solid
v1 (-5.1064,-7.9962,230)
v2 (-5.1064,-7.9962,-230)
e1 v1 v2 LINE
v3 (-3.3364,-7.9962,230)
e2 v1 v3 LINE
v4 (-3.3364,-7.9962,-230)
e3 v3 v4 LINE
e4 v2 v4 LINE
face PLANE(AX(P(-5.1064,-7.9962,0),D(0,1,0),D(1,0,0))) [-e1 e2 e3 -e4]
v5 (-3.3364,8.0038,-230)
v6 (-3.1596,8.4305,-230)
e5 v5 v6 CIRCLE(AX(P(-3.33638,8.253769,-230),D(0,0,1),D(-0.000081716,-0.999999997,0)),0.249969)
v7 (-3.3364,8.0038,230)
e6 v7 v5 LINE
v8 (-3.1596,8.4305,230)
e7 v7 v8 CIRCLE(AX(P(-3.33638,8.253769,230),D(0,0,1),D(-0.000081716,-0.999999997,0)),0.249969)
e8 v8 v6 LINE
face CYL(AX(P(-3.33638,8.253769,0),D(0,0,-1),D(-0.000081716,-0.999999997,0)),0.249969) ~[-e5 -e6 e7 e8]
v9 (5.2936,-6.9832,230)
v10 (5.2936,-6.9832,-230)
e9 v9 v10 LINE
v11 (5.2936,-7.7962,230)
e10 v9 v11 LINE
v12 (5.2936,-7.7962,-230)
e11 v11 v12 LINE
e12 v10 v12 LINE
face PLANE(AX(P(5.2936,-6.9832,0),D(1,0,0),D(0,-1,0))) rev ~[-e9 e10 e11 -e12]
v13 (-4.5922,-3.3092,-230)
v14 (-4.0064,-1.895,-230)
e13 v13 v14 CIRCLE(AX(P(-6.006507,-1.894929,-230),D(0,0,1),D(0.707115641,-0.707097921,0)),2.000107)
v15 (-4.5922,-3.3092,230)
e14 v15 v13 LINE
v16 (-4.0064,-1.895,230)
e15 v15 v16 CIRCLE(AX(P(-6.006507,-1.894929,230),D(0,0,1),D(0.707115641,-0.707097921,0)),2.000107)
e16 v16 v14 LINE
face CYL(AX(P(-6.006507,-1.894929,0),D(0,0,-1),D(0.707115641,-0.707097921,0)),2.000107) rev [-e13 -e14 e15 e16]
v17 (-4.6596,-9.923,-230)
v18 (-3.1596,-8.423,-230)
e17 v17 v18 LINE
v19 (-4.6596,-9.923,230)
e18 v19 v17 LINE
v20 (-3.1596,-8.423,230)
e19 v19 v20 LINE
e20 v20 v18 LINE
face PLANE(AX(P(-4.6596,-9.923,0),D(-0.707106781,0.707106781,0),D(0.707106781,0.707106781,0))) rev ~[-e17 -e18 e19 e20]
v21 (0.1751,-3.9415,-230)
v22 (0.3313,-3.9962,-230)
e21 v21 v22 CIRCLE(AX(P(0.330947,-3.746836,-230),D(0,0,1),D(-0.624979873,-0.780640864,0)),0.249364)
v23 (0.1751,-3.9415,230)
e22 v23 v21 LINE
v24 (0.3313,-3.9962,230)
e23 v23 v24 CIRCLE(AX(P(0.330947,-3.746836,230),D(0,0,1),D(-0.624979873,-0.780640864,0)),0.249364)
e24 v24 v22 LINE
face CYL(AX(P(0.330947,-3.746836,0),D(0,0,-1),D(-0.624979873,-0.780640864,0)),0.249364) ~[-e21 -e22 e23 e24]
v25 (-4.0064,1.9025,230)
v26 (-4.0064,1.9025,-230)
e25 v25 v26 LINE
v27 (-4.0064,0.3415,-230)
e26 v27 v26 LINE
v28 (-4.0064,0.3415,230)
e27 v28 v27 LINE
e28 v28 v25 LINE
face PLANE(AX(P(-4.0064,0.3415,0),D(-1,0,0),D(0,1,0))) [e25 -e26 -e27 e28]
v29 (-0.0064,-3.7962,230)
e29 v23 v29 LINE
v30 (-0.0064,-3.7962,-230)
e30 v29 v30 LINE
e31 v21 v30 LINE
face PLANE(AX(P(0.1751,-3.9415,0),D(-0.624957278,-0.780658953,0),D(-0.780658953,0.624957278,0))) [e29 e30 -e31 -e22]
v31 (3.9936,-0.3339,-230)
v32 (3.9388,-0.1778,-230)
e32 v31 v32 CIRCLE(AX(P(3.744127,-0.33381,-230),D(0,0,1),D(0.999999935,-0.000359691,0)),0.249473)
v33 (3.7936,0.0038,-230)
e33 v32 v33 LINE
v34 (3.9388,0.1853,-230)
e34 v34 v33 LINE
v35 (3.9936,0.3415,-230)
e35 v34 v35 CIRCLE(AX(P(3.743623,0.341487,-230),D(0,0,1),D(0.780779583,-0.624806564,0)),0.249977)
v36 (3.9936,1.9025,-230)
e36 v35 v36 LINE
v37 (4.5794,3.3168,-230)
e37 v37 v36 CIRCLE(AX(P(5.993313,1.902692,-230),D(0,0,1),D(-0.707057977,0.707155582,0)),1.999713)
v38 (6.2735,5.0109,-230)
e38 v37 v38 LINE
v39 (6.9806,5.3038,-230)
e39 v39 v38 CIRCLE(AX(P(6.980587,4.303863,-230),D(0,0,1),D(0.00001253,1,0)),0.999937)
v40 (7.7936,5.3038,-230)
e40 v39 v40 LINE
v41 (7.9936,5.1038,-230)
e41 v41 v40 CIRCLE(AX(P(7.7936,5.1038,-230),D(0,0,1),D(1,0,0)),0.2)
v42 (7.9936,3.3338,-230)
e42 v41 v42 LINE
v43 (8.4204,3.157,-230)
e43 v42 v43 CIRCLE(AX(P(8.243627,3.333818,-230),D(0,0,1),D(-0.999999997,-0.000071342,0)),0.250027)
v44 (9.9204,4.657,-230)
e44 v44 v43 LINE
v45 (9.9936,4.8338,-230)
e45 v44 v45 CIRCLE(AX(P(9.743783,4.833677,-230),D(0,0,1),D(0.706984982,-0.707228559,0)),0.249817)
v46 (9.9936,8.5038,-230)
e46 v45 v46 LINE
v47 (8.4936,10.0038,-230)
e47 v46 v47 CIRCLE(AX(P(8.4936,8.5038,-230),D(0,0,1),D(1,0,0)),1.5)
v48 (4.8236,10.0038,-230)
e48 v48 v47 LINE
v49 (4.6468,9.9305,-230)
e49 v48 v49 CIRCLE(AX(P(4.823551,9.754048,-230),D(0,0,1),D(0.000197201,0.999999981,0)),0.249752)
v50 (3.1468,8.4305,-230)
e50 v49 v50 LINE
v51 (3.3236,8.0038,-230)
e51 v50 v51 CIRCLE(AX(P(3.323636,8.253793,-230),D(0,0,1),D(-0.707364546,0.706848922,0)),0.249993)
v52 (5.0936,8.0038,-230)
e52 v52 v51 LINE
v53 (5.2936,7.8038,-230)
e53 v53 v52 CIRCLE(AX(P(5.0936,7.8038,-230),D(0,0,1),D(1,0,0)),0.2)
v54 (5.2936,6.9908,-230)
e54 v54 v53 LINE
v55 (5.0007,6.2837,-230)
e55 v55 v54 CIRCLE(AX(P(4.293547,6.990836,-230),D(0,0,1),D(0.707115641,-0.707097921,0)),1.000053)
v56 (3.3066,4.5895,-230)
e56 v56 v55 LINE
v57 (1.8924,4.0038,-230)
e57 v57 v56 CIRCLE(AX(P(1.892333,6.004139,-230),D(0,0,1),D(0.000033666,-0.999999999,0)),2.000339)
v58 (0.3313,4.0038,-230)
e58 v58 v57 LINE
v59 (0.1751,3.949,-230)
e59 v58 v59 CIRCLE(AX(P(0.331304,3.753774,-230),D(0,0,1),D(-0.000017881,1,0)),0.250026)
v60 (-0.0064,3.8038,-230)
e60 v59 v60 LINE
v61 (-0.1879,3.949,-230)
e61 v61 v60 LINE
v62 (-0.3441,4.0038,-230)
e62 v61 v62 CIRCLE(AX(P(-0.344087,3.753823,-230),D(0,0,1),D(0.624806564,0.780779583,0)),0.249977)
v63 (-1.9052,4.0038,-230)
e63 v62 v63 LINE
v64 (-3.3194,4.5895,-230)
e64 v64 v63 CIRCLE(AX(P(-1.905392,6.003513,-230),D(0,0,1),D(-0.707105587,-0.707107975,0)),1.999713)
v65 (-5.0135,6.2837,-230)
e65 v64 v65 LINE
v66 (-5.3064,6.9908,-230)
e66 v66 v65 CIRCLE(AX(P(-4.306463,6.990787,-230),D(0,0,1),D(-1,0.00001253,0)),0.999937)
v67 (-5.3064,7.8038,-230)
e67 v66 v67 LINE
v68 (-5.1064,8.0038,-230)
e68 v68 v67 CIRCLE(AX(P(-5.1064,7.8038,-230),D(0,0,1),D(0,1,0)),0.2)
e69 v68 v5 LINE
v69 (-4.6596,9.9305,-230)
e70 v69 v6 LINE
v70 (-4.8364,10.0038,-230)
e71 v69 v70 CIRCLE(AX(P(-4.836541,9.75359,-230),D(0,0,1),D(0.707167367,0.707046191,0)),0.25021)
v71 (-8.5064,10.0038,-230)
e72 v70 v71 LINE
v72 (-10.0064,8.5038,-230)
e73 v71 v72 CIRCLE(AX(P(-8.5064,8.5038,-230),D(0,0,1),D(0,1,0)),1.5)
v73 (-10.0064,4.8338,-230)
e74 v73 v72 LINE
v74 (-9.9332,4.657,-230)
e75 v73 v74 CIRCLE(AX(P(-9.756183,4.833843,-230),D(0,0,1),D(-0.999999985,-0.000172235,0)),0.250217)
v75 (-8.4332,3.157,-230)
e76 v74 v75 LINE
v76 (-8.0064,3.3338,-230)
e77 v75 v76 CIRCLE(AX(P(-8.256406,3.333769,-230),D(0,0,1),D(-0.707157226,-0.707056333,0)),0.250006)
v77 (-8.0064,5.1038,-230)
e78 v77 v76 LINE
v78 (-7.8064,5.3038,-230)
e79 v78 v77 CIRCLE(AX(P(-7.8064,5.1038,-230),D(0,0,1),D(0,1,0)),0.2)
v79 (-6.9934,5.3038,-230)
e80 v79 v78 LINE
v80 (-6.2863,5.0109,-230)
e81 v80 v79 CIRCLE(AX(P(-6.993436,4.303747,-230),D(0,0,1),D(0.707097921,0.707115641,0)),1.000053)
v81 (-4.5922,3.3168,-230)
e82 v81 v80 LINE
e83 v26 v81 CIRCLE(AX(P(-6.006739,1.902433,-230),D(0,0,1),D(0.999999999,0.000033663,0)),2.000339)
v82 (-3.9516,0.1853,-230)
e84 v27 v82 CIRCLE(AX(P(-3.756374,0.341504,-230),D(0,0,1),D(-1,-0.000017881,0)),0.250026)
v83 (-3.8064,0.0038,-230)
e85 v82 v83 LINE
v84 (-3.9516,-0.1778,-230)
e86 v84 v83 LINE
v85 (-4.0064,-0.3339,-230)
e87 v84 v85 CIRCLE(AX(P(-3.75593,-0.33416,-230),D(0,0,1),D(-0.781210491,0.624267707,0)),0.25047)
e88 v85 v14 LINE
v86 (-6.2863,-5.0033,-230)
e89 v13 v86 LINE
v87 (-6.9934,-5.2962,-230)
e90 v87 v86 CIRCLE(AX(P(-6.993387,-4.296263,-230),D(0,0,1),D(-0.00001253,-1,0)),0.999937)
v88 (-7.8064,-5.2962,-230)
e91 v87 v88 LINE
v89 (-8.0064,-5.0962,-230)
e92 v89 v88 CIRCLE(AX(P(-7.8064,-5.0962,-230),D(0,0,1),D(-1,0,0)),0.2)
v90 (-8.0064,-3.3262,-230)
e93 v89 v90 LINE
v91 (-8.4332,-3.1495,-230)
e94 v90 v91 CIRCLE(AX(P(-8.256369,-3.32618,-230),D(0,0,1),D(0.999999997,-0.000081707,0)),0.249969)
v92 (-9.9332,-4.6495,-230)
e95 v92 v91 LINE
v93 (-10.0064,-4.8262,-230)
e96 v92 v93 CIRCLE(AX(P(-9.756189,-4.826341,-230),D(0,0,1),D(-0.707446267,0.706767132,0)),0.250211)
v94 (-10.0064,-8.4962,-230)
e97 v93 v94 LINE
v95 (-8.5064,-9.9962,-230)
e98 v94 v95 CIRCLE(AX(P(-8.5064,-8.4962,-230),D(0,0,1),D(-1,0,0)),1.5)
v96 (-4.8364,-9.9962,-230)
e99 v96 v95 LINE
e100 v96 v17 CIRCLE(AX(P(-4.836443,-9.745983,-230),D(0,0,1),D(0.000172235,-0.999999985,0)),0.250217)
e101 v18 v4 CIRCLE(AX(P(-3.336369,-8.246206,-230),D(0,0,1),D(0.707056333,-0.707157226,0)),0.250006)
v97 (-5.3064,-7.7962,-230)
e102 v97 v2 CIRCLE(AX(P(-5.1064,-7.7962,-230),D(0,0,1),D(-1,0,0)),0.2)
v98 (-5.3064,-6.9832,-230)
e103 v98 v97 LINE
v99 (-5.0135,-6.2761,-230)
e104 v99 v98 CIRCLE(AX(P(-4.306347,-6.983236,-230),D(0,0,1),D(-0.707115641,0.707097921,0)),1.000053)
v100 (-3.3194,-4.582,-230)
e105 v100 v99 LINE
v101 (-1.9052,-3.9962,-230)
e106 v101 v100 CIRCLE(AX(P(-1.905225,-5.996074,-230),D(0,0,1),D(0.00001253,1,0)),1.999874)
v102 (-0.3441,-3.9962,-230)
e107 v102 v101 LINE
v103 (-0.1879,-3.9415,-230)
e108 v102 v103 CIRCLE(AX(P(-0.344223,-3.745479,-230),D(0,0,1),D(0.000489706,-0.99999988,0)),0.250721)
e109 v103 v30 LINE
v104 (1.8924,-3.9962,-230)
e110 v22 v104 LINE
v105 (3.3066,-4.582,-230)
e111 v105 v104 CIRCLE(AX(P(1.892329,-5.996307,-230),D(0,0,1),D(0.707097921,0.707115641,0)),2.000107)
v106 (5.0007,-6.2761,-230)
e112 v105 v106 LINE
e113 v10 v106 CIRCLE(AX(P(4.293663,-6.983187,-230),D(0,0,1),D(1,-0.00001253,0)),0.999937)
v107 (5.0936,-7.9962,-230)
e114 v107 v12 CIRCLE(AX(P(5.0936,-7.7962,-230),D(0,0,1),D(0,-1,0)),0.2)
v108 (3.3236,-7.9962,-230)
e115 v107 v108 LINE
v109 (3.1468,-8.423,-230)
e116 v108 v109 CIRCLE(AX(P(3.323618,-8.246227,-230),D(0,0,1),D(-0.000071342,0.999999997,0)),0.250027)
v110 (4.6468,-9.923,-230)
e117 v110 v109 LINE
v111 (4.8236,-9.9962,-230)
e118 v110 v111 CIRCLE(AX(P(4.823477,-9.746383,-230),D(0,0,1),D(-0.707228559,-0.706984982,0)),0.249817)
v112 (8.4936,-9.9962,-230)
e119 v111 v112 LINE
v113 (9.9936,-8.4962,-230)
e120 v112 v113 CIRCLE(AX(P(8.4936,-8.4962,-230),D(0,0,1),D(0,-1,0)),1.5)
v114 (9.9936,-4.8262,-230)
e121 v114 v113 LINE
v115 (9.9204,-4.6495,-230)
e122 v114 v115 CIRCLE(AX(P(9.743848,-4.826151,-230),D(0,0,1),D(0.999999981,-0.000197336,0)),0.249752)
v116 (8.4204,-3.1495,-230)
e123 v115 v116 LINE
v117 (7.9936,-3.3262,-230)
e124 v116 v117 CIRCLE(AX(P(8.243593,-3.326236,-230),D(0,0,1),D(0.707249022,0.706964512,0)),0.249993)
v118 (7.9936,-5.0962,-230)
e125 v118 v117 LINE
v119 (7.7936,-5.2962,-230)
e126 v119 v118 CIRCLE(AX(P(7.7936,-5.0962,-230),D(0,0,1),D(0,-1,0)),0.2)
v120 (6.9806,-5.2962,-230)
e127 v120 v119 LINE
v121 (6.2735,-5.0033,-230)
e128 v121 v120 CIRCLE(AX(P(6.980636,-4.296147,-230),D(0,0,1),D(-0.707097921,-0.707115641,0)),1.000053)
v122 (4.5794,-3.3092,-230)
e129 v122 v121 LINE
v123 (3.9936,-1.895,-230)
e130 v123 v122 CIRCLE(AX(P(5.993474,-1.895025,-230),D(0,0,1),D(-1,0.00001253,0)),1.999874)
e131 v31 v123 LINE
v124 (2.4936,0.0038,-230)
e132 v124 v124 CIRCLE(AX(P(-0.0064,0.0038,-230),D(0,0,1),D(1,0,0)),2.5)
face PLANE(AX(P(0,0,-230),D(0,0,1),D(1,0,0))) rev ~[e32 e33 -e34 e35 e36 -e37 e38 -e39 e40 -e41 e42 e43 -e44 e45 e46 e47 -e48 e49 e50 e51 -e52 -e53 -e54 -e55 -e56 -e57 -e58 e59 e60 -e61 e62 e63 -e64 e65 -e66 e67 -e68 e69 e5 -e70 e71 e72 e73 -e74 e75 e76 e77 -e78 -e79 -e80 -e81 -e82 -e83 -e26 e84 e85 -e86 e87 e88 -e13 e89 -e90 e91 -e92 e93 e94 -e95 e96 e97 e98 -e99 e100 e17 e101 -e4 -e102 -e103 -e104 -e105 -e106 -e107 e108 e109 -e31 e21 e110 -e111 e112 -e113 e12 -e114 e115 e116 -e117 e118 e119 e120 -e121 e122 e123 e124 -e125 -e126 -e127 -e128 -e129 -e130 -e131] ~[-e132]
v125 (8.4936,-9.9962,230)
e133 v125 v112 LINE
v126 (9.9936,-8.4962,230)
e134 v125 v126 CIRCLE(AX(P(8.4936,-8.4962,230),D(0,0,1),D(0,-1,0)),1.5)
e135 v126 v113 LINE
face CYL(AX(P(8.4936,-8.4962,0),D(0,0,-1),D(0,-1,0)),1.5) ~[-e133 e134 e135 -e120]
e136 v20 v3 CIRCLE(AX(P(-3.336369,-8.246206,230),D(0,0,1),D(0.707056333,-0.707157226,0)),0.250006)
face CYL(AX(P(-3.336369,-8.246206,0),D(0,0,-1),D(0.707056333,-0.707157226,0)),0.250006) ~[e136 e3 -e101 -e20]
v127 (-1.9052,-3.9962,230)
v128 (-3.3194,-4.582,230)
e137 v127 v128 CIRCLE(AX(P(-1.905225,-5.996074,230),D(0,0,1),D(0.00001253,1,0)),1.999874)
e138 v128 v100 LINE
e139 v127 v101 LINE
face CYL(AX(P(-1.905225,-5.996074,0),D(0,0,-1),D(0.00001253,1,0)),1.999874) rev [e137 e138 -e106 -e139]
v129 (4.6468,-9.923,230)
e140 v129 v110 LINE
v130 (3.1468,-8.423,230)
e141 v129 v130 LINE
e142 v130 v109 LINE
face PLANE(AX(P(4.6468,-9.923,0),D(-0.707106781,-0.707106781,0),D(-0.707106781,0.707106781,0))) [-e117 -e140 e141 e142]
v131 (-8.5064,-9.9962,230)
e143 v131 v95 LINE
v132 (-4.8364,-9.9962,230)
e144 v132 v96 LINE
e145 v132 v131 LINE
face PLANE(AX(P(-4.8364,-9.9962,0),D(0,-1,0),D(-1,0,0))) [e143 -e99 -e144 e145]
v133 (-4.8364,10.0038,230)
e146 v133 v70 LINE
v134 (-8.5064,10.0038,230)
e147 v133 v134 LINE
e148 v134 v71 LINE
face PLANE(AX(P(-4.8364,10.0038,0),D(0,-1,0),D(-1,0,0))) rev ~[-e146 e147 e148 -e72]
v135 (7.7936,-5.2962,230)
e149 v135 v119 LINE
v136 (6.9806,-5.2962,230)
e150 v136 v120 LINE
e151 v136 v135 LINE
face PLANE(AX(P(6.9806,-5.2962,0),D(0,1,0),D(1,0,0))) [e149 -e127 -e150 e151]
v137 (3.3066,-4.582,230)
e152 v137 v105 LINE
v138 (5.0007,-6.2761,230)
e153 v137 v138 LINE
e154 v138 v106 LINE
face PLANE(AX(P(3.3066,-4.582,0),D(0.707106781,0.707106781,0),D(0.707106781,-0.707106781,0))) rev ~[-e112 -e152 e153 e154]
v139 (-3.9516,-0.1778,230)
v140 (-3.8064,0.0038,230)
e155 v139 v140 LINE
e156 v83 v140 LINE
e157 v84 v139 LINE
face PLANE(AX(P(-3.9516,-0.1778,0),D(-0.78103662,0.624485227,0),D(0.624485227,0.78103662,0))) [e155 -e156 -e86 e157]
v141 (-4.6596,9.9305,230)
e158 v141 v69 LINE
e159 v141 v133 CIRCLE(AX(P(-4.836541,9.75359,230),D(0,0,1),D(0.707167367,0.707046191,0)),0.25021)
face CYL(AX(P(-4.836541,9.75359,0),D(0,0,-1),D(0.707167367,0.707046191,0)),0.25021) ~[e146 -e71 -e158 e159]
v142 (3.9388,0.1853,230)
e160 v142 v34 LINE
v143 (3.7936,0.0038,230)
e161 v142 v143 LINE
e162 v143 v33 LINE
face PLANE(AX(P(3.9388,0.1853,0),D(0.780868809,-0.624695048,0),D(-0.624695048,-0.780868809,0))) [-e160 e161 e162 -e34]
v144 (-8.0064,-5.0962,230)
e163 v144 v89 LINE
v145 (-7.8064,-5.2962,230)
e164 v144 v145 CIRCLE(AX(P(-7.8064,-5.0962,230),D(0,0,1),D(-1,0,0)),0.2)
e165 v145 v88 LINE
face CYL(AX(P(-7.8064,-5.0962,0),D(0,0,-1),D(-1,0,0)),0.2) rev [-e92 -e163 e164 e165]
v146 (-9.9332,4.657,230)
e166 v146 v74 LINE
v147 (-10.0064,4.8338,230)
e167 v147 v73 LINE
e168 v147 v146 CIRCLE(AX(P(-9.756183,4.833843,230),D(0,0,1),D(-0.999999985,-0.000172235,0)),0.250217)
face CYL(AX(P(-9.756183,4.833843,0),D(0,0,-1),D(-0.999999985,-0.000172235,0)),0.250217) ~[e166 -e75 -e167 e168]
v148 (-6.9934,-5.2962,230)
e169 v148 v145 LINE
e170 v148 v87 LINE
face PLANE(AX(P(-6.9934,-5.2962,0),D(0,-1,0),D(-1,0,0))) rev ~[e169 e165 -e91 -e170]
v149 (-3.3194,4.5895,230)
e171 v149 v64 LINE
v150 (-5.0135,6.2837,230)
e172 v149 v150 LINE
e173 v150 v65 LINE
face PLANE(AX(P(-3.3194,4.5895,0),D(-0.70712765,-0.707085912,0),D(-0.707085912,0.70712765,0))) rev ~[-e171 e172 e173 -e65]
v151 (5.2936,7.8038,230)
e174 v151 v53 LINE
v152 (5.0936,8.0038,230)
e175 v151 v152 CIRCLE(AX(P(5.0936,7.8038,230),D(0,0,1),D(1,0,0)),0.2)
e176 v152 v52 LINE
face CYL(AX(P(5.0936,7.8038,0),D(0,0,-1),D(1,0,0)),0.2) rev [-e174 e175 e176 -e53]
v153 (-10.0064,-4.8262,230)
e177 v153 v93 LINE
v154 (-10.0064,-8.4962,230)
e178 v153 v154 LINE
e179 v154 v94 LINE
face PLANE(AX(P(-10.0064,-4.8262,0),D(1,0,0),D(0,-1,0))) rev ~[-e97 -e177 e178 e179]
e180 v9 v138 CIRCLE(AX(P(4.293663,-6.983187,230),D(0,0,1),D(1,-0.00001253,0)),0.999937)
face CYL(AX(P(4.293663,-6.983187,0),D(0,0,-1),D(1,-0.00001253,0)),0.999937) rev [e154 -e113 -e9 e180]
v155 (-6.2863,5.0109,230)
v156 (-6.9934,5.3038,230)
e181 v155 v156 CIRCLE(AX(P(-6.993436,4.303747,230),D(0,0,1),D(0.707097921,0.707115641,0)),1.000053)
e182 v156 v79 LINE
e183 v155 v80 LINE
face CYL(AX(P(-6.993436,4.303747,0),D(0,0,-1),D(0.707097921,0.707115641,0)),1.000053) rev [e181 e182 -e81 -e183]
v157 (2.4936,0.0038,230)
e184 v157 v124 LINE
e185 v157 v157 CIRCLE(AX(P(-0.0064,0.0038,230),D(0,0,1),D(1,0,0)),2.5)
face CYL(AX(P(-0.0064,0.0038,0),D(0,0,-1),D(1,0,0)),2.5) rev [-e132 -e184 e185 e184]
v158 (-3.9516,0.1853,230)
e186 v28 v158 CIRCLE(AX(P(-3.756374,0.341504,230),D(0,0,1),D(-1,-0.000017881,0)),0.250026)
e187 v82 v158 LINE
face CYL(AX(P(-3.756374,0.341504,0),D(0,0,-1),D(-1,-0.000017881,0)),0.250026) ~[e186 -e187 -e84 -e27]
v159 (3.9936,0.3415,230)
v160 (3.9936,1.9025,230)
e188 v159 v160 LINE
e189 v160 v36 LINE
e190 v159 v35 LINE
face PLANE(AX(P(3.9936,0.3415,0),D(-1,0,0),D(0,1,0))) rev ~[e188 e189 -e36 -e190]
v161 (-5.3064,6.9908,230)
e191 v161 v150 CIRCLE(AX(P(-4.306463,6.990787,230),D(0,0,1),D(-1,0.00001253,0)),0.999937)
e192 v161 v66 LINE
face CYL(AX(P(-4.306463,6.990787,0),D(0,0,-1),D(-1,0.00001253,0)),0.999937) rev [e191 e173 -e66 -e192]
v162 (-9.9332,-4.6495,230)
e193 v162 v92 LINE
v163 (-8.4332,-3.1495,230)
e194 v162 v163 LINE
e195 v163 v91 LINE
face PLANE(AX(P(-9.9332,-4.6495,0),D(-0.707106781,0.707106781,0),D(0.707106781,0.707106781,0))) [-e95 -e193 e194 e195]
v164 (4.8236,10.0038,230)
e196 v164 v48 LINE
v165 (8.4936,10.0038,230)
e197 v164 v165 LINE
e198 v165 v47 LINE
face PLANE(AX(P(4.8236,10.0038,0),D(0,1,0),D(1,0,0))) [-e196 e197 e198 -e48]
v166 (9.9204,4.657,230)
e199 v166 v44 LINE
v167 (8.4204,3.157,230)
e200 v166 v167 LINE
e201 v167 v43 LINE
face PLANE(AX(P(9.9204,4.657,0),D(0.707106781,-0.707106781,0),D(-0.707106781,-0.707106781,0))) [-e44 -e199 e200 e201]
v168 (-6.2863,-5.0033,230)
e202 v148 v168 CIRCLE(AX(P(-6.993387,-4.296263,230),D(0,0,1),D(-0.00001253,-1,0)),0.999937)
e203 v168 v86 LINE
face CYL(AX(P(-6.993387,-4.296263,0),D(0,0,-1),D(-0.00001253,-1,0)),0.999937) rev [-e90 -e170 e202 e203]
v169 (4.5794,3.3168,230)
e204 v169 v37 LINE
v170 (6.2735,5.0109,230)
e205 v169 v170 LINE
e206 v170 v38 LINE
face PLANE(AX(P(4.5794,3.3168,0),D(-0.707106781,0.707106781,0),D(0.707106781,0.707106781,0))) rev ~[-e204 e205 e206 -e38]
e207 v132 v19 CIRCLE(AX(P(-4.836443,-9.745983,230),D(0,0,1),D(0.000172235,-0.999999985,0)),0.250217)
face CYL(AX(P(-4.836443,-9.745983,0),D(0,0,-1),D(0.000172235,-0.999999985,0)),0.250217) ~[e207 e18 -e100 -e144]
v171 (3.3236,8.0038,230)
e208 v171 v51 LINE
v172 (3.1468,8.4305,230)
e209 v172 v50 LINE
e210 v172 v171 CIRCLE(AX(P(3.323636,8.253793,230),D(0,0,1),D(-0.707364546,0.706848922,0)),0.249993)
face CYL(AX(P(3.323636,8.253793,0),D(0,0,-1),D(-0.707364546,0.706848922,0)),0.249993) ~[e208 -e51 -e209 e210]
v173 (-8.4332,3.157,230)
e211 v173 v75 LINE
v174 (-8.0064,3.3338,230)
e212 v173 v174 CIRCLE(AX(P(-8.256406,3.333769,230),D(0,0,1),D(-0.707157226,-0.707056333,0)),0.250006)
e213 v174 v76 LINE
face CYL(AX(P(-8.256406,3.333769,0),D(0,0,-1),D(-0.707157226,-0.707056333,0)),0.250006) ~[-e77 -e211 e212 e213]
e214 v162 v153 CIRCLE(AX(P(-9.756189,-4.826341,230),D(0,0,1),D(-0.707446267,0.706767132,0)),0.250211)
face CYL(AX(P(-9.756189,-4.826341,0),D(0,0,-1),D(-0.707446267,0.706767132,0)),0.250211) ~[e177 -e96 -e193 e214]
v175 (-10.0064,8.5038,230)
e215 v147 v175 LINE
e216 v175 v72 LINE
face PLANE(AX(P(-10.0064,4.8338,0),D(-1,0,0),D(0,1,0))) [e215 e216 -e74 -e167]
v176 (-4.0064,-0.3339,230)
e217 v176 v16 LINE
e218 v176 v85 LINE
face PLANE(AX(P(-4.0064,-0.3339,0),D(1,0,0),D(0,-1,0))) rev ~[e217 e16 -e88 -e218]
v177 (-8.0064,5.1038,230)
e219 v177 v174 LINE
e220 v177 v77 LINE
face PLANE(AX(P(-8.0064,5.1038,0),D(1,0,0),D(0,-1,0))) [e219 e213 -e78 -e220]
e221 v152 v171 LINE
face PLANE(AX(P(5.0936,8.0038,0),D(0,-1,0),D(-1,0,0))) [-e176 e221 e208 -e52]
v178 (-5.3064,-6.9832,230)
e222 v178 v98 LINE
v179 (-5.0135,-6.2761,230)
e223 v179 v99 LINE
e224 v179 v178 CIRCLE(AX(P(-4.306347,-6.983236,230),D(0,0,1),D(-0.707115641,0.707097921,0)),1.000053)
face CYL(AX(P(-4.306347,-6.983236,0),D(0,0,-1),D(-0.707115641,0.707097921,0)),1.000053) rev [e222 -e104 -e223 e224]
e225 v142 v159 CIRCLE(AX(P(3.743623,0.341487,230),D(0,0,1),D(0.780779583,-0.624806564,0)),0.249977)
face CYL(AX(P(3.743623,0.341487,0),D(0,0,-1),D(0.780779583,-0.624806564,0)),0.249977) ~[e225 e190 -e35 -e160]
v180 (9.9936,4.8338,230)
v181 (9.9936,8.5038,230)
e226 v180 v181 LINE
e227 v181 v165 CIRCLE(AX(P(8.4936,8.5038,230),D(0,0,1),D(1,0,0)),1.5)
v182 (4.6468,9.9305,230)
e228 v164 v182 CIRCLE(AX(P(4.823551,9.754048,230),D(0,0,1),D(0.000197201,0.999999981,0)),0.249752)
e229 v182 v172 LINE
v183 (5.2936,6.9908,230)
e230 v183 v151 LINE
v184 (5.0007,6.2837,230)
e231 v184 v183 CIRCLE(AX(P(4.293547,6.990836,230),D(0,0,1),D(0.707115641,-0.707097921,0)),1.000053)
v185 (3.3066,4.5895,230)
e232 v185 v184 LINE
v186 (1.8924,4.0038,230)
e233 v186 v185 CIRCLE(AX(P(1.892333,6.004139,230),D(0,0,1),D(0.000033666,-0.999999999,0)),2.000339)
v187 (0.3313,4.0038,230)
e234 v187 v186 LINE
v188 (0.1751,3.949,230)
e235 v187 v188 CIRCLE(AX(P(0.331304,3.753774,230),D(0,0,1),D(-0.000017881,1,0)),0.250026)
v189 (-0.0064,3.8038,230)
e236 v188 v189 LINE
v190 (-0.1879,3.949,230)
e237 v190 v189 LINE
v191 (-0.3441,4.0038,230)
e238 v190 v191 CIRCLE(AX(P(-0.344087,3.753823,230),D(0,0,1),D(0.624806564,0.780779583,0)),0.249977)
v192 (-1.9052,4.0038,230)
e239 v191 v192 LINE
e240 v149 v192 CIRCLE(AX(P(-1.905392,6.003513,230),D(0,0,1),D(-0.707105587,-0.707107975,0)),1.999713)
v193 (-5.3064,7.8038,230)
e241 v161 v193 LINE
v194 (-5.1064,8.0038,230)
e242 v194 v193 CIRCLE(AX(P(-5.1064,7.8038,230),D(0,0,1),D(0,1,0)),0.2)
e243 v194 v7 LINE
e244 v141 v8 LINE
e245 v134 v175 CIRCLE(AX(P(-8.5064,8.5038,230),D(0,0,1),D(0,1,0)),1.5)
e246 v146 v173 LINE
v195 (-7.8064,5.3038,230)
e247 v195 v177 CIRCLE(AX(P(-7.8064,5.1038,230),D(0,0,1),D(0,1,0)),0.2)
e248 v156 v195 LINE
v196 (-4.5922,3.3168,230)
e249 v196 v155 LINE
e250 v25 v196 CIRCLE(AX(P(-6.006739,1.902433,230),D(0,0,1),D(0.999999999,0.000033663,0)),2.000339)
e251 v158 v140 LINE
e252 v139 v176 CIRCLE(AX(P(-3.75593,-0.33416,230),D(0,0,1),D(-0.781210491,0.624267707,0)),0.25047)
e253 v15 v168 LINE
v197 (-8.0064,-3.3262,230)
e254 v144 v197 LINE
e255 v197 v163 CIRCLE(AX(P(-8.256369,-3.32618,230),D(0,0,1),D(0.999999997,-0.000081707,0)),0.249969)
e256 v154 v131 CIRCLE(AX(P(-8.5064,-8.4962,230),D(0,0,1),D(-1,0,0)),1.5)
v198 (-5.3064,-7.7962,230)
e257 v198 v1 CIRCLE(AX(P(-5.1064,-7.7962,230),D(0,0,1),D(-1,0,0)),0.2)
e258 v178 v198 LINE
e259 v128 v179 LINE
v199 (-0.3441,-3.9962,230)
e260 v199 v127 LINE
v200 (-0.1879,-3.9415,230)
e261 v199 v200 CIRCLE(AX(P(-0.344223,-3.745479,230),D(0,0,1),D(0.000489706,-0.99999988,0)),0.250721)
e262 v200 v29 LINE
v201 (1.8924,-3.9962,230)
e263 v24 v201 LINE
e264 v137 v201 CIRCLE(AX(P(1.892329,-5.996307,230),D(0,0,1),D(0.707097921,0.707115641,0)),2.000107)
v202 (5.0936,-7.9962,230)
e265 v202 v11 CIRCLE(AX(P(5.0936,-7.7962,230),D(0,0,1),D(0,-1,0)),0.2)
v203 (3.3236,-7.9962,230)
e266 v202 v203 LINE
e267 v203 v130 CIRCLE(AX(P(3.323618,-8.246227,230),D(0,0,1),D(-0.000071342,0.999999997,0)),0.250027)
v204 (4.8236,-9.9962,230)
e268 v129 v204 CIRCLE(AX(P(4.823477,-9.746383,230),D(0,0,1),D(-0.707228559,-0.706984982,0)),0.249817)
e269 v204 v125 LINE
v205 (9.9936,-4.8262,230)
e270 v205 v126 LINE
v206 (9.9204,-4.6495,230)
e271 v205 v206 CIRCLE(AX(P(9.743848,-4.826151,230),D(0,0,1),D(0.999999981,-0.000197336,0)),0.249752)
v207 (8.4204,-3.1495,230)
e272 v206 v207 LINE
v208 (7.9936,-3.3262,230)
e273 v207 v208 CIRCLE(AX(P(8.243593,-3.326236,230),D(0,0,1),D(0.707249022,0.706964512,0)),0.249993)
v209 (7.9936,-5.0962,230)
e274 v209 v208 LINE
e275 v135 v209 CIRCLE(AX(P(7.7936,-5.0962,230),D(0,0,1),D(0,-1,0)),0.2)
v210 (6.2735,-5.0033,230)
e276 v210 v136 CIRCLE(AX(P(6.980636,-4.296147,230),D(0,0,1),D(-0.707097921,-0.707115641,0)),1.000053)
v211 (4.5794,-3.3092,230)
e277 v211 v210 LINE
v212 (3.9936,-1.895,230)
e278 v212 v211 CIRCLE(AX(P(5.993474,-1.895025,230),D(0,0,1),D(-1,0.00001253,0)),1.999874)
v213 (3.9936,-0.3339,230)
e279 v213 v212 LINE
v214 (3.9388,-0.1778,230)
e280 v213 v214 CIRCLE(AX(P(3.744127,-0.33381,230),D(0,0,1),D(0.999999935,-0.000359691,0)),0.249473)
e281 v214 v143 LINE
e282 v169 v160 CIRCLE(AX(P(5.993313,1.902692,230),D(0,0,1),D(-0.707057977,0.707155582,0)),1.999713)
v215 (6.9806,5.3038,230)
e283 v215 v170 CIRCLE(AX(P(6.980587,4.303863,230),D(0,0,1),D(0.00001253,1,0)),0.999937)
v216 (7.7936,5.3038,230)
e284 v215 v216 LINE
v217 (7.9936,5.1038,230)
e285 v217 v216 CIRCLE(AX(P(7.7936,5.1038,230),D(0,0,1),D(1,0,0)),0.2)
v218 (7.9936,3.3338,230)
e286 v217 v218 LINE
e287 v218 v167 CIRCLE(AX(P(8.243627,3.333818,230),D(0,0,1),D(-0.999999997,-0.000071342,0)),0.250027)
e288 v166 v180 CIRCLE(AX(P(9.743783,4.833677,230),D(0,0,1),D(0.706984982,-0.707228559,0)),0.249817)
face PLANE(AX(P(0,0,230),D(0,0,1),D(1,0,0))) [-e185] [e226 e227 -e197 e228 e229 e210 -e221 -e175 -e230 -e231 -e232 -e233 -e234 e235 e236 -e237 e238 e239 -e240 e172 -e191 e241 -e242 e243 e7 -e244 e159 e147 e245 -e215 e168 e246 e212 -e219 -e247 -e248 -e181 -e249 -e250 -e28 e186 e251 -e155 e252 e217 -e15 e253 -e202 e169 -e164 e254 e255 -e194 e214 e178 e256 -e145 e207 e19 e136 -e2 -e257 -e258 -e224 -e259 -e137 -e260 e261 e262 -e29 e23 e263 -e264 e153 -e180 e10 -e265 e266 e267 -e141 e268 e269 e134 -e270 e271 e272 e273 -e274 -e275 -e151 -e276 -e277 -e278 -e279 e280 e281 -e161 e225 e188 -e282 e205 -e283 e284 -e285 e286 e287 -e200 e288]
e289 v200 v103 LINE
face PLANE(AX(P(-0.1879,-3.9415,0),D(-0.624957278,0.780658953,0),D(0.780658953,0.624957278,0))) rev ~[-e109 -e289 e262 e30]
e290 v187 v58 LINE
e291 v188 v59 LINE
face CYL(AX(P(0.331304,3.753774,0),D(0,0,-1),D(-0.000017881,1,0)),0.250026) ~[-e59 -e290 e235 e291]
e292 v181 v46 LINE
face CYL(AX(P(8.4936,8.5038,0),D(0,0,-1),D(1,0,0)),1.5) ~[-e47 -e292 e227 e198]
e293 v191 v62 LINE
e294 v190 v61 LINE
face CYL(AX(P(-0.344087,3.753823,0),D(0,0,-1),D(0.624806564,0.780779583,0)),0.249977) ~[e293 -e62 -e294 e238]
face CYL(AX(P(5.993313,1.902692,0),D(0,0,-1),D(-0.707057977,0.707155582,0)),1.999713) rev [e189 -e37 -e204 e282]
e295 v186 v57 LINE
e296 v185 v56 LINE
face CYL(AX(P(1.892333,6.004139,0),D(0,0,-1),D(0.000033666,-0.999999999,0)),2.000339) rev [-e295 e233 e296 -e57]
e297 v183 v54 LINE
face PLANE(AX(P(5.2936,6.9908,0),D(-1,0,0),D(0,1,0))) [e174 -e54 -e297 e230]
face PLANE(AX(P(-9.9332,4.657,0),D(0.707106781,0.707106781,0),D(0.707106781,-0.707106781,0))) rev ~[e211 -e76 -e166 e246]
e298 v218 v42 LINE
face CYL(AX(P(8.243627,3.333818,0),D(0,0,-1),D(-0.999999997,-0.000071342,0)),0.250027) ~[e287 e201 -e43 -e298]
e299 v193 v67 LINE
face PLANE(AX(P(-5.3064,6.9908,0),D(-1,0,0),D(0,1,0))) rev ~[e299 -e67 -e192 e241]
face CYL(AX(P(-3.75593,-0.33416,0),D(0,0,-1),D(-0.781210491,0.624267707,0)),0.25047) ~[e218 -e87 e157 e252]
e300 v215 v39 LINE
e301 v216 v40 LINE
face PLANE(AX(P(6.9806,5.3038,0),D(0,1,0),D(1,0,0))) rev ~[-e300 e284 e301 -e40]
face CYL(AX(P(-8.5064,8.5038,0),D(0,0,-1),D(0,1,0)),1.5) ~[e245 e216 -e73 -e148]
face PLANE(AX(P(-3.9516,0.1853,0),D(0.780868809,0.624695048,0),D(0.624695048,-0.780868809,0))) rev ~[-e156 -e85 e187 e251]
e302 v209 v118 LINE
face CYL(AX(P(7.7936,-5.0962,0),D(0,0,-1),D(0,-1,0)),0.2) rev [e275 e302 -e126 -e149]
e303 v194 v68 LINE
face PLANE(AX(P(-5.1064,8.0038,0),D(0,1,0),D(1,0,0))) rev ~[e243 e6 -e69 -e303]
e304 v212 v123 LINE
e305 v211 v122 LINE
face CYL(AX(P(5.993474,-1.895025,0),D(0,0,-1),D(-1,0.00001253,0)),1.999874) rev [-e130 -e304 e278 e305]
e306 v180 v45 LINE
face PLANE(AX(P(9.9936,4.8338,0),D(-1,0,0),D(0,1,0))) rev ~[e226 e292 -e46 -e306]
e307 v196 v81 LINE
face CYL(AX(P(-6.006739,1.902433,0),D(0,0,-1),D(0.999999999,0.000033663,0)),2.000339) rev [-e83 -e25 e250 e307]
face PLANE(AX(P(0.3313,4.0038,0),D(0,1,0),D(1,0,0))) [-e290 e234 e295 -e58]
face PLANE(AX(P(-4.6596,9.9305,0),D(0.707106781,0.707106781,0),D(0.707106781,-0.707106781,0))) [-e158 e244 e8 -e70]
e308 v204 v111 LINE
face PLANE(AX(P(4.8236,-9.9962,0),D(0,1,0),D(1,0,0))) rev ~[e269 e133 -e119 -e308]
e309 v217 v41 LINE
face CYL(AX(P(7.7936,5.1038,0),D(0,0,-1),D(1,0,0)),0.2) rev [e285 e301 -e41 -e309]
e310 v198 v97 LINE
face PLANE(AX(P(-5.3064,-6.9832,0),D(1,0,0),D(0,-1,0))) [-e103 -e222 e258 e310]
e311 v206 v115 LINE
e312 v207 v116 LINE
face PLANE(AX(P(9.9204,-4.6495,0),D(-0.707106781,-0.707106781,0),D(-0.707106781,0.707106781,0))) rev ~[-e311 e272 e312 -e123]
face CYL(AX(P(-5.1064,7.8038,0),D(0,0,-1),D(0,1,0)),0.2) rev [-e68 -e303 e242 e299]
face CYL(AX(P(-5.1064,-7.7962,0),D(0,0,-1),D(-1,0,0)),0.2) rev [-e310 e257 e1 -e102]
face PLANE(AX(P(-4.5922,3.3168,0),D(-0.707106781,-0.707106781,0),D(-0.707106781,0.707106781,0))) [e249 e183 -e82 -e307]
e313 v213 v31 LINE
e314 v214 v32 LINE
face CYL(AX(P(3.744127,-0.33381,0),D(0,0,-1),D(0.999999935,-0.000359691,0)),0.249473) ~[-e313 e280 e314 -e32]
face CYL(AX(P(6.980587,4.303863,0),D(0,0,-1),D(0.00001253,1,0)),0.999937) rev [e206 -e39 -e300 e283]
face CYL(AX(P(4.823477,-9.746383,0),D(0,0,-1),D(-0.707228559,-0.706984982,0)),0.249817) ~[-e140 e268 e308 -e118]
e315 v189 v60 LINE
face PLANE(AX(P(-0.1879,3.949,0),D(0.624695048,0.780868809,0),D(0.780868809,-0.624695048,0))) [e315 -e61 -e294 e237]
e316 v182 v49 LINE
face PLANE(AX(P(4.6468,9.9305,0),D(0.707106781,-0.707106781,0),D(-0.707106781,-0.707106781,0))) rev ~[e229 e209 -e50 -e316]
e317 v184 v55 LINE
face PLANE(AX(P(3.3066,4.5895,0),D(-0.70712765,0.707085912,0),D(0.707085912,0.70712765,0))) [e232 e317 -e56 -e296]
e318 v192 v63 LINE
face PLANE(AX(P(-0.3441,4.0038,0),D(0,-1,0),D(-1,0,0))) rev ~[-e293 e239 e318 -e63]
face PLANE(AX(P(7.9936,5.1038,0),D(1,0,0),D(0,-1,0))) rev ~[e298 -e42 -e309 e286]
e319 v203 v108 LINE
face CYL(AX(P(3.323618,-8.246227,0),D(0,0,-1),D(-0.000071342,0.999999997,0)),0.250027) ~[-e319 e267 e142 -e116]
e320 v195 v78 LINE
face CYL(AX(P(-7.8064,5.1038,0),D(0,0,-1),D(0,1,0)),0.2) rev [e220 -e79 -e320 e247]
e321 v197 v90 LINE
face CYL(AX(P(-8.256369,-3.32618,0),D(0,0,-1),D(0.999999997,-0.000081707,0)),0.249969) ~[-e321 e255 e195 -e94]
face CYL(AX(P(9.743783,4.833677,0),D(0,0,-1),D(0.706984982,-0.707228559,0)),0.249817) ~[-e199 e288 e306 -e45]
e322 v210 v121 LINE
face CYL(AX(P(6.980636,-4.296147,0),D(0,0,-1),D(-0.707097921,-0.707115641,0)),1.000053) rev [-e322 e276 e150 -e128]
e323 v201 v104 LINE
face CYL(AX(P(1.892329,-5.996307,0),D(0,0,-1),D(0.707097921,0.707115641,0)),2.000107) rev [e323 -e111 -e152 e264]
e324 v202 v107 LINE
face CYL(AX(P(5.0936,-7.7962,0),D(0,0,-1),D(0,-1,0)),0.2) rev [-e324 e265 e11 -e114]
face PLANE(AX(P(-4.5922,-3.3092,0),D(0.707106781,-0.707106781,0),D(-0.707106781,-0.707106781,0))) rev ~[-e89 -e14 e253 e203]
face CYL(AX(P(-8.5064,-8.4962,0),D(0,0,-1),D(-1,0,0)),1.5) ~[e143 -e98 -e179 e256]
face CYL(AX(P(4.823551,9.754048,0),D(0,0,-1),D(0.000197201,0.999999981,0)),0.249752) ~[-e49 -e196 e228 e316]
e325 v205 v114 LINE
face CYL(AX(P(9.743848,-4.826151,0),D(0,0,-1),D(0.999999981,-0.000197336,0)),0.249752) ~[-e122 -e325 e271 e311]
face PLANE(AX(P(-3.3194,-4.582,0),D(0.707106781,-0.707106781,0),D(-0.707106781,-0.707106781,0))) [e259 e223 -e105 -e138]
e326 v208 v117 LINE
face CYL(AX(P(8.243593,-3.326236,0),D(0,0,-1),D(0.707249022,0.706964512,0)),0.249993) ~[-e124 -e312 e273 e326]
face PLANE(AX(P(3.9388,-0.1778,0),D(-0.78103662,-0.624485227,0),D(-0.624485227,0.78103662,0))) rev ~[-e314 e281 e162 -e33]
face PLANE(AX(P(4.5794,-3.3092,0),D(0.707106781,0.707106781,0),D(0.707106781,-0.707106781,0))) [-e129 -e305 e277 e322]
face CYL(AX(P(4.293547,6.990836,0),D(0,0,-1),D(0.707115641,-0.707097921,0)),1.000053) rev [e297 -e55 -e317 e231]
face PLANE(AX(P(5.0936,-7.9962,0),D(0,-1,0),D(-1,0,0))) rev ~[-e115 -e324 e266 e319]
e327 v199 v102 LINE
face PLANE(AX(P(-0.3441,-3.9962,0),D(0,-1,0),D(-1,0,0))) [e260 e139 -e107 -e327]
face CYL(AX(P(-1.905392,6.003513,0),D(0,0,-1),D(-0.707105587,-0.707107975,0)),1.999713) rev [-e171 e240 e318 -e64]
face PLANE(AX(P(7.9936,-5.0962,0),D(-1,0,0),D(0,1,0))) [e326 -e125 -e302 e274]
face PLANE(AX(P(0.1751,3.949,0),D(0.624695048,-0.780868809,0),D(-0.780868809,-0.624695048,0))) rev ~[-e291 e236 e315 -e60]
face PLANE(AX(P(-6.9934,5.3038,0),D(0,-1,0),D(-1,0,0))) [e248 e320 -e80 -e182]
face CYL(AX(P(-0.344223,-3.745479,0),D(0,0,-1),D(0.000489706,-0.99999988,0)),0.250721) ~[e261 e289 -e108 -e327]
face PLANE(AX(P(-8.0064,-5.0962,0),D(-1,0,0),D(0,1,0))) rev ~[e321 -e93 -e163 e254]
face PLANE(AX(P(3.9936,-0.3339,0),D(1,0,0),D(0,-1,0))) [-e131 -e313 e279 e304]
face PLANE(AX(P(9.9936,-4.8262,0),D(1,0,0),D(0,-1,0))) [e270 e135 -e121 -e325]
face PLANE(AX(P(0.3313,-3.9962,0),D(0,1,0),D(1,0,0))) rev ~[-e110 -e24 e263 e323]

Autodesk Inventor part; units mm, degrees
ref_plane "YZ Plane" through (0, 0, 0) normal (1, 0, 0) x (0, 1, 0)
ref_plane "XZ Plane" through (0, 0, 0) normal (0, 1, 0) x (-1, 0, 0)
ref_plane "XY Plane" through (0, 0, 0) normal (0, 0, 1) x (1, 0, 0)
sketch "Эскиз1" plane through (0, 0, 0) normal (0, 0, 1) x (1, 0, 0)
  line L0 (-3.9516, 0.1853) -> (-3.8064, 0.0038)
  line L1 (-3.9516, -0.1778) -> (-3.8064, 0.0038)
  arc A0 (-3.9516, -0.1778) -> (-4.0064, -0.3339) centre (-3.7564, -0.3339) ccw
  line L2 (-4.0064, -0.3339) -> (-4.0064, -1.895)
  arc A1 (-4.5922, -3.3092) -> (-4.0064, -1.895) centre (-6.0064, -1.895) ccw
  line L3 (-4.5922, -3.3092) -> (-6.2863, -5.0033)
  arc A2 (-6.9934, -5.2962) -> (-6.2863, -5.0033) centre (-6.9934, -4.2962) ccw
  line L4 (-6.9934, -5.2962) -> (-7.8064, -5.2962)
  arc A3 (-8.0064, -5.0962) -> (-7.8064, -5.2962) centre (-7.8064, -5.0962) ccw
  line L5 (-8.0064, -5.0962) -> (-8.0064, -3.3262)
  arc A4 (-8.0064, -3.3262) -> (-8.4332, -3.1495) centre (-8.2564, -3.3262) ccw
  line L6 (-9.9332, -4.6495) -> (-8.4332, -3.1495)
  arc A5 (-9.9332, -4.6495) -> (-10.0064, -4.8262) centre (-9.7564, -4.8262) ccw
  line L7 (-10.0064, -4.8262) -> (-10.0064, -8.4962)
  arc A6 (-10.0064, -8.4962) -> (-8.5064, -9.9962) centre (-8.5064, -8.4962) ccw
  line L8 (-4.8364, -9.9962) -> (-8.5064, -9.9962)
  arc A7 (-4.8364, -9.9962) -> (-4.6596, -9.923) centre (-4.8364, -9.7462) ccw
  line L9 (-4.6596, -9.923) -> (-3.1596, -8.423)
  arc A8 (-3.1596, -8.423) -> (-3.3364, -7.9962) centre (-3.3364, -8.2462) ccw
  line L10 (-5.1064, -7.9962) -> (-3.3364, -7.9962)
  arc A9 (-5.3064, -7.7962) -> (-5.1064, -7.9962) centre (-5.1064, -7.7962) ccw
  line L11 (-5.3064, -6.9832) -> (-5.3064, -7.7962)
  arc A10 (-5.0135, -6.2761) -> (-5.3064, -6.9832) centre (-4.3064, -6.9832) ccw
  line L12 (-3.3194, -4.582) -> (-5.0135, -6.2761)
  arc A11 (-1.9052, -3.9962) -> (-3.3194, -4.582) centre (-1.9052, -5.9962) ccw
  line L13 (-0.3441, -3.9962) -> (-1.9052, -3.9962)
  arc A12 (-0.3441, -3.9962) -> (-0.1879, -3.9415) centre (-0.3441, -3.7462) ccw
  line L14 (-0.1879, -3.9415) -> (-0.0064, -3.7962)
  line L15 (0.1751, -3.9415) -> (-0.0064, -3.7962)
  arc A13 (0.1751, -3.9415) -> (0.3313, -3.9962) centre (0.3313, -3.7462) ccw
  line L16 (0.3313, -3.9962) -> (1.8924, -3.9962)
  arc A14 (3.3066, -4.582) -> (1.8924, -3.9962) centre (1.8924, -5.9962) ccw
  line L17 (3.3066, -4.582) -> (5.0007, -6.2761)
  arc A15 (5.2936, -6.9832) -> (5.0007, -6.2761) centre (4.2936, -6.9832) ccw
  line L18 (5.2936, -6.9832) -> (5.2936, -7.7962)
  arc A16 (5.0936, -7.9962) -> (5.2936, -7.7962) centre (5.0936, -7.7962) ccw
  line L19 (5.0936, -7.9962) -> (3.3236, -7.9962)
  arc A17 (3.3236, -7.9962) -> (3.1468, -8.423) centre (3.3236, -8.2462) ccw
  line L20 (4.6468, -9.923) -> (3.1468, -8.423)
  arc A18 (4.6468, -9.923) -> (4.8236, -9.9962) centre (4.8236, -9.7462) ccw
  line L21 (4.8236, -9.9962) -> (8.4936, -9.9962)
  arc A19 (8.4936, -9.9962) -> (9.9936, -8.4962) centre (8.4936, -8.4962) ccw
  line L22 (9.9936, -4.8262) -> (9.9936, -8.4962)
  arc A20 (9.9936, -4.8262) -> (9.9204, -4.6495) centre (9.7436, -4.8262) ccw
  line L23 (9.9204, -4.6495) -> (8.4204, -3.1495)
  arc A21 (8.4204, -3.1495) -> (7.9936, -3.3262) centre (8.2436, -3.3262) ccw
  line L24 (7.9936, -5.0962) -> (7.9936, -3.3262)
  arc A22 (7.7936, -5.2962) -> (7.9936, -5.0962) centre (7.7936, -5.0962) ccw
  line L25 (6.9806, -5.2962) -> (7.7936, -5.2962)
  arc A23 (6.2735, -5.0033) -> (6.9806, -5.2962) centre (6.9806, -4.2962) ccw
  line L26 (4.5794, -3.3092) -> (6.2735, -5.0033)
  arc A24 (3.9936, -1.895) -> (4.5794, -3.3092) centre (5.9936, -1.895) ccw
  line L27 (3.9936, -0.3339) -> (3.9936, -1.895)
  arc A25 (3.9936, -0.3339) -> (3.9388, -0.1778) centre (3.7436, -0.3339) ccw
  line L28 (3.9388, -0.1778) -> (3.7936, 0.0038)
  line L29 (3.9388, 0.1853) -> (3.7936, 0.0038)
  arc A26 (3.9388, 0.1853) -> (3.9936, 0.3415) centre (3.7436, 0.3415) ccw
  line L30 (3.9936, 0.3415) -> (3.9936, 1.9025)
  arc A27 (4.5794, 3.3168) -> (3.9936, 1.9025) centre (5.9936, 1.9025) ccw
  line L31 (4.5794, 3.3168) -> (6.2735, 5.0109)
  arc A28 (6.9806, 5.3038) -> (6.2735, 5.0109) centre (6.9806, 4.3038) ccw
  line L32 (6.9806, 5.3038) -> (7.7936, 5.3038)
  arc A29 (7.9936, 5.1038) -> (7.7936, 5.3038) centre (7.7936, 5.1038) ccw
  line L33 (7.9936, 5.1038) -> (7.9936, 3.3338)
  arc A30 (7.9936, 3.3338) -> (8.4204, 3.157) centre (8.2436, 3.3338) ccw
  line L34 (9.9204, 4.657) -> (8.4204, 3.157)
  arc A31 (9.9204, 4.657) -> (9.9936, 4.8338) centre (9.7436, 4.8338) ccw
  line L35 (9.9936, 4.8338) -> (9.9936, 8.5038)
  arc A32 (9.9936, 8.5038) -> (8.4936, 10.0038) centre (8.4936, 8.5038) ccw
  line L36 (4.8236, 10.0038) -> (8.4936, 10.0038)
  arc A33 (4.8236, 10.0038) -> (4.6468, 9.9305) centre (4.8236, 9.7538) ccw
  line L37 (4.6468, 9.9305) -> (3.1468, 8.4305)
  arc A34 (3.1468, 8.4305) -> (3.3236, 8.0038) centre (3.3236, 8.2538) ccw
  line L38 (5.0936, 8.0038) -> (3.3236, 8.0038)
  arc A35 (5.2936, 7.8038) -> (5.0936, 8.0038) centre (5.0936, 7.8038) ccw
  line L39 (5.2936, 6.9908) -> (5.2936, 7.8038)
  arc A36 (5.0007, 6.2837) -> (5.2936, 6.9908) centre (4.2936, 6.9908) ccw
  line L40 (3.3066, 4.5895) -> (5.0007, 6.2837)
  arc A37 (1.8924, 4.0038) -> (3.3066, 4.5895) centre (1.8924, 6.0038) ccw
  line L41 (0.3313, 4.0038) -> (1.8924, 4.0038)
  arc A38 (0.3313, 4.0038) -> (0.1751, 3.949) centre (0.3313, 3.7538) ccw
  line L42 (0.1751, 3.949) -> (-0.0064, 3.8038)
  line L43 (-0.1879, 3.949) -> (-0.0064, 3.8038)
  arc A39 (-0.1879, 3.949) -> (-0.3441, 4.0038) centre (-0.3441, 3.7538) ccw
  line L44 (-0.3441, 4.0038) -> (-1.9052, 4.0038)
  arc A40 (-3.3194, 4.5895) -> (-1.9052, 4.0038) centre (-1.9052, 6.0038) ccw
  line L45 (-3.3194, 4.5895) -> (-5.0135, 6.2837)
  arc A41 (-5.3064, 6.9908) -> (-5.0135, 6.2837) centre (-4.3064, 6.9908) ccw
  line L46 (-5.3064, 6.9908) -> (-5.3064, 7.8038)
  arc A42 (-5.1064, 8.0038) -> (-5.3064, 7.8038) centre (-5.1064, 7.8038) ccw
  line L47 (-5.1064, 8.0038) -> (-3.3364, 8.0038)
  arc A43 (-3.3364, 8.0038) -> (-3.1596, 8.4305) centre (-3.3364, 8.2538) ccw
  line L48 (-4.6596, 9.9305) -> (-3.1596, 8.4305)
  arc A44 (-4.6596, 9.9305) -> (-4.8364, 10.0038) centre (-4.8364, 9.7538) ccw
  line L49 (-4.8364, 10.0038) -> (-8.5064, 10.0038)
  arc A45 (-8.5064, 10.0038) -> (-10.0064, 8.5038) centre (-8.5064, 8.5038) ccw
  line L50 (-10.0064, 4.8338) -> (-10.0064, 8.5038)
  arc A46 (-10.0064, 4.8338) -> (-9.9332, 4.657) centre (-9.7564, 4.8338) ccw
  line L51 (-9.9332, 4.657) -> (-8.4332, 3.157)
  arc A47 (-8.4332, 3.157) -> (-8.0064, 3.3338) centre (-8.2564, 3.3338) ccw
  line L52 (-8.0064, 5.1038) -> (-8.0064, 3.3338)
  arc A48 (-7.8064, 5.3038) -> (-8.0064, 5.1038) centre (-7.8064, 5.1038) ccw
  line L53 (-6.9934, 5.3038) -> (-7.8064, 5.3038)
  arc A49 (-6.2863, 5.0109) -> (-6.9934, 5.3038) centre (-6.9934, 4.3038) ccw
  line L54 (-4.5922, 3.3168) -> (-6.2863, 5.0109)
  arc A50 (-4.0064, 1.9025) -> (-4.5922, 3.3168) centre (-6.0064, 1.9025) ccw
  line L55 (-4.0064, 0.3415) -> (-4.0064, 1.9025)
  arc A51 (-4.0064, 0.3415) -> (-3.9516, 0.1853) centre (-3.7564, 0.3415) ccw
  circle A52 centre (-0.0064, 0.0038) radius 2.5
  point P0 (0, 0)
  point P1 (-0.0064, 0.0038)
  dimension "d0" = 0.25
  dimension "d1" = 1.5
  dimension "d2" = 0.2
  dimension "d3" = 1
  dimension "d4" = 2
  dimension "d5" = 5
  dimension "d6" = 135
  dimension "d7" = 38.66
  dimension "d8" = 38.66
  dimension "d9" = 45
  dimension "d10" = 2
  dimension "d11" = 4.7
  dimension "d12" = 14
  dimension "d13" = 15.3
  dimension "d14" = 20
  dimension "d15" = 2.829
  dimension "d16" = 4.629
  dimension "d17" = 7.4579
  dimension "d18" = 2.829
  dimension "d19" = 4.629
  dimension "d20" = 7.4579
  dimension "d21" = 10.6
  dimension "d22" = 4.7
  dimension "d23" = 15.3
  dimension "d24" = 2.7
  dimension "d25" = 13.3
  dimension "d26" = 5.9346
  dimension "d27" = 5.9346
  dimension "d28" = 5.9346
  dimension "d29" = 5.9346
  dimension "d30" = 9.9936
  dimension "d31" = 3.7218
  dimension "d32" = 3.7271
  dimension "d33" = 5.3038
  dimension "d34" = 2.96
  dimension "d35" = 2.9647
  dimension "d36" = 2.9742
  dimension "d37" = 2.9684
  dimension "d38" = 8.0064
  dimension "d39" = 10
  dimension "d40" = 3.729
  dimension "d41" = 10
  dimension "d42" = 3.729
extrude "Выдавливание1" add sketch "Эскиз1" along normal mid plane 460
properties part number "AP20x20x500"
